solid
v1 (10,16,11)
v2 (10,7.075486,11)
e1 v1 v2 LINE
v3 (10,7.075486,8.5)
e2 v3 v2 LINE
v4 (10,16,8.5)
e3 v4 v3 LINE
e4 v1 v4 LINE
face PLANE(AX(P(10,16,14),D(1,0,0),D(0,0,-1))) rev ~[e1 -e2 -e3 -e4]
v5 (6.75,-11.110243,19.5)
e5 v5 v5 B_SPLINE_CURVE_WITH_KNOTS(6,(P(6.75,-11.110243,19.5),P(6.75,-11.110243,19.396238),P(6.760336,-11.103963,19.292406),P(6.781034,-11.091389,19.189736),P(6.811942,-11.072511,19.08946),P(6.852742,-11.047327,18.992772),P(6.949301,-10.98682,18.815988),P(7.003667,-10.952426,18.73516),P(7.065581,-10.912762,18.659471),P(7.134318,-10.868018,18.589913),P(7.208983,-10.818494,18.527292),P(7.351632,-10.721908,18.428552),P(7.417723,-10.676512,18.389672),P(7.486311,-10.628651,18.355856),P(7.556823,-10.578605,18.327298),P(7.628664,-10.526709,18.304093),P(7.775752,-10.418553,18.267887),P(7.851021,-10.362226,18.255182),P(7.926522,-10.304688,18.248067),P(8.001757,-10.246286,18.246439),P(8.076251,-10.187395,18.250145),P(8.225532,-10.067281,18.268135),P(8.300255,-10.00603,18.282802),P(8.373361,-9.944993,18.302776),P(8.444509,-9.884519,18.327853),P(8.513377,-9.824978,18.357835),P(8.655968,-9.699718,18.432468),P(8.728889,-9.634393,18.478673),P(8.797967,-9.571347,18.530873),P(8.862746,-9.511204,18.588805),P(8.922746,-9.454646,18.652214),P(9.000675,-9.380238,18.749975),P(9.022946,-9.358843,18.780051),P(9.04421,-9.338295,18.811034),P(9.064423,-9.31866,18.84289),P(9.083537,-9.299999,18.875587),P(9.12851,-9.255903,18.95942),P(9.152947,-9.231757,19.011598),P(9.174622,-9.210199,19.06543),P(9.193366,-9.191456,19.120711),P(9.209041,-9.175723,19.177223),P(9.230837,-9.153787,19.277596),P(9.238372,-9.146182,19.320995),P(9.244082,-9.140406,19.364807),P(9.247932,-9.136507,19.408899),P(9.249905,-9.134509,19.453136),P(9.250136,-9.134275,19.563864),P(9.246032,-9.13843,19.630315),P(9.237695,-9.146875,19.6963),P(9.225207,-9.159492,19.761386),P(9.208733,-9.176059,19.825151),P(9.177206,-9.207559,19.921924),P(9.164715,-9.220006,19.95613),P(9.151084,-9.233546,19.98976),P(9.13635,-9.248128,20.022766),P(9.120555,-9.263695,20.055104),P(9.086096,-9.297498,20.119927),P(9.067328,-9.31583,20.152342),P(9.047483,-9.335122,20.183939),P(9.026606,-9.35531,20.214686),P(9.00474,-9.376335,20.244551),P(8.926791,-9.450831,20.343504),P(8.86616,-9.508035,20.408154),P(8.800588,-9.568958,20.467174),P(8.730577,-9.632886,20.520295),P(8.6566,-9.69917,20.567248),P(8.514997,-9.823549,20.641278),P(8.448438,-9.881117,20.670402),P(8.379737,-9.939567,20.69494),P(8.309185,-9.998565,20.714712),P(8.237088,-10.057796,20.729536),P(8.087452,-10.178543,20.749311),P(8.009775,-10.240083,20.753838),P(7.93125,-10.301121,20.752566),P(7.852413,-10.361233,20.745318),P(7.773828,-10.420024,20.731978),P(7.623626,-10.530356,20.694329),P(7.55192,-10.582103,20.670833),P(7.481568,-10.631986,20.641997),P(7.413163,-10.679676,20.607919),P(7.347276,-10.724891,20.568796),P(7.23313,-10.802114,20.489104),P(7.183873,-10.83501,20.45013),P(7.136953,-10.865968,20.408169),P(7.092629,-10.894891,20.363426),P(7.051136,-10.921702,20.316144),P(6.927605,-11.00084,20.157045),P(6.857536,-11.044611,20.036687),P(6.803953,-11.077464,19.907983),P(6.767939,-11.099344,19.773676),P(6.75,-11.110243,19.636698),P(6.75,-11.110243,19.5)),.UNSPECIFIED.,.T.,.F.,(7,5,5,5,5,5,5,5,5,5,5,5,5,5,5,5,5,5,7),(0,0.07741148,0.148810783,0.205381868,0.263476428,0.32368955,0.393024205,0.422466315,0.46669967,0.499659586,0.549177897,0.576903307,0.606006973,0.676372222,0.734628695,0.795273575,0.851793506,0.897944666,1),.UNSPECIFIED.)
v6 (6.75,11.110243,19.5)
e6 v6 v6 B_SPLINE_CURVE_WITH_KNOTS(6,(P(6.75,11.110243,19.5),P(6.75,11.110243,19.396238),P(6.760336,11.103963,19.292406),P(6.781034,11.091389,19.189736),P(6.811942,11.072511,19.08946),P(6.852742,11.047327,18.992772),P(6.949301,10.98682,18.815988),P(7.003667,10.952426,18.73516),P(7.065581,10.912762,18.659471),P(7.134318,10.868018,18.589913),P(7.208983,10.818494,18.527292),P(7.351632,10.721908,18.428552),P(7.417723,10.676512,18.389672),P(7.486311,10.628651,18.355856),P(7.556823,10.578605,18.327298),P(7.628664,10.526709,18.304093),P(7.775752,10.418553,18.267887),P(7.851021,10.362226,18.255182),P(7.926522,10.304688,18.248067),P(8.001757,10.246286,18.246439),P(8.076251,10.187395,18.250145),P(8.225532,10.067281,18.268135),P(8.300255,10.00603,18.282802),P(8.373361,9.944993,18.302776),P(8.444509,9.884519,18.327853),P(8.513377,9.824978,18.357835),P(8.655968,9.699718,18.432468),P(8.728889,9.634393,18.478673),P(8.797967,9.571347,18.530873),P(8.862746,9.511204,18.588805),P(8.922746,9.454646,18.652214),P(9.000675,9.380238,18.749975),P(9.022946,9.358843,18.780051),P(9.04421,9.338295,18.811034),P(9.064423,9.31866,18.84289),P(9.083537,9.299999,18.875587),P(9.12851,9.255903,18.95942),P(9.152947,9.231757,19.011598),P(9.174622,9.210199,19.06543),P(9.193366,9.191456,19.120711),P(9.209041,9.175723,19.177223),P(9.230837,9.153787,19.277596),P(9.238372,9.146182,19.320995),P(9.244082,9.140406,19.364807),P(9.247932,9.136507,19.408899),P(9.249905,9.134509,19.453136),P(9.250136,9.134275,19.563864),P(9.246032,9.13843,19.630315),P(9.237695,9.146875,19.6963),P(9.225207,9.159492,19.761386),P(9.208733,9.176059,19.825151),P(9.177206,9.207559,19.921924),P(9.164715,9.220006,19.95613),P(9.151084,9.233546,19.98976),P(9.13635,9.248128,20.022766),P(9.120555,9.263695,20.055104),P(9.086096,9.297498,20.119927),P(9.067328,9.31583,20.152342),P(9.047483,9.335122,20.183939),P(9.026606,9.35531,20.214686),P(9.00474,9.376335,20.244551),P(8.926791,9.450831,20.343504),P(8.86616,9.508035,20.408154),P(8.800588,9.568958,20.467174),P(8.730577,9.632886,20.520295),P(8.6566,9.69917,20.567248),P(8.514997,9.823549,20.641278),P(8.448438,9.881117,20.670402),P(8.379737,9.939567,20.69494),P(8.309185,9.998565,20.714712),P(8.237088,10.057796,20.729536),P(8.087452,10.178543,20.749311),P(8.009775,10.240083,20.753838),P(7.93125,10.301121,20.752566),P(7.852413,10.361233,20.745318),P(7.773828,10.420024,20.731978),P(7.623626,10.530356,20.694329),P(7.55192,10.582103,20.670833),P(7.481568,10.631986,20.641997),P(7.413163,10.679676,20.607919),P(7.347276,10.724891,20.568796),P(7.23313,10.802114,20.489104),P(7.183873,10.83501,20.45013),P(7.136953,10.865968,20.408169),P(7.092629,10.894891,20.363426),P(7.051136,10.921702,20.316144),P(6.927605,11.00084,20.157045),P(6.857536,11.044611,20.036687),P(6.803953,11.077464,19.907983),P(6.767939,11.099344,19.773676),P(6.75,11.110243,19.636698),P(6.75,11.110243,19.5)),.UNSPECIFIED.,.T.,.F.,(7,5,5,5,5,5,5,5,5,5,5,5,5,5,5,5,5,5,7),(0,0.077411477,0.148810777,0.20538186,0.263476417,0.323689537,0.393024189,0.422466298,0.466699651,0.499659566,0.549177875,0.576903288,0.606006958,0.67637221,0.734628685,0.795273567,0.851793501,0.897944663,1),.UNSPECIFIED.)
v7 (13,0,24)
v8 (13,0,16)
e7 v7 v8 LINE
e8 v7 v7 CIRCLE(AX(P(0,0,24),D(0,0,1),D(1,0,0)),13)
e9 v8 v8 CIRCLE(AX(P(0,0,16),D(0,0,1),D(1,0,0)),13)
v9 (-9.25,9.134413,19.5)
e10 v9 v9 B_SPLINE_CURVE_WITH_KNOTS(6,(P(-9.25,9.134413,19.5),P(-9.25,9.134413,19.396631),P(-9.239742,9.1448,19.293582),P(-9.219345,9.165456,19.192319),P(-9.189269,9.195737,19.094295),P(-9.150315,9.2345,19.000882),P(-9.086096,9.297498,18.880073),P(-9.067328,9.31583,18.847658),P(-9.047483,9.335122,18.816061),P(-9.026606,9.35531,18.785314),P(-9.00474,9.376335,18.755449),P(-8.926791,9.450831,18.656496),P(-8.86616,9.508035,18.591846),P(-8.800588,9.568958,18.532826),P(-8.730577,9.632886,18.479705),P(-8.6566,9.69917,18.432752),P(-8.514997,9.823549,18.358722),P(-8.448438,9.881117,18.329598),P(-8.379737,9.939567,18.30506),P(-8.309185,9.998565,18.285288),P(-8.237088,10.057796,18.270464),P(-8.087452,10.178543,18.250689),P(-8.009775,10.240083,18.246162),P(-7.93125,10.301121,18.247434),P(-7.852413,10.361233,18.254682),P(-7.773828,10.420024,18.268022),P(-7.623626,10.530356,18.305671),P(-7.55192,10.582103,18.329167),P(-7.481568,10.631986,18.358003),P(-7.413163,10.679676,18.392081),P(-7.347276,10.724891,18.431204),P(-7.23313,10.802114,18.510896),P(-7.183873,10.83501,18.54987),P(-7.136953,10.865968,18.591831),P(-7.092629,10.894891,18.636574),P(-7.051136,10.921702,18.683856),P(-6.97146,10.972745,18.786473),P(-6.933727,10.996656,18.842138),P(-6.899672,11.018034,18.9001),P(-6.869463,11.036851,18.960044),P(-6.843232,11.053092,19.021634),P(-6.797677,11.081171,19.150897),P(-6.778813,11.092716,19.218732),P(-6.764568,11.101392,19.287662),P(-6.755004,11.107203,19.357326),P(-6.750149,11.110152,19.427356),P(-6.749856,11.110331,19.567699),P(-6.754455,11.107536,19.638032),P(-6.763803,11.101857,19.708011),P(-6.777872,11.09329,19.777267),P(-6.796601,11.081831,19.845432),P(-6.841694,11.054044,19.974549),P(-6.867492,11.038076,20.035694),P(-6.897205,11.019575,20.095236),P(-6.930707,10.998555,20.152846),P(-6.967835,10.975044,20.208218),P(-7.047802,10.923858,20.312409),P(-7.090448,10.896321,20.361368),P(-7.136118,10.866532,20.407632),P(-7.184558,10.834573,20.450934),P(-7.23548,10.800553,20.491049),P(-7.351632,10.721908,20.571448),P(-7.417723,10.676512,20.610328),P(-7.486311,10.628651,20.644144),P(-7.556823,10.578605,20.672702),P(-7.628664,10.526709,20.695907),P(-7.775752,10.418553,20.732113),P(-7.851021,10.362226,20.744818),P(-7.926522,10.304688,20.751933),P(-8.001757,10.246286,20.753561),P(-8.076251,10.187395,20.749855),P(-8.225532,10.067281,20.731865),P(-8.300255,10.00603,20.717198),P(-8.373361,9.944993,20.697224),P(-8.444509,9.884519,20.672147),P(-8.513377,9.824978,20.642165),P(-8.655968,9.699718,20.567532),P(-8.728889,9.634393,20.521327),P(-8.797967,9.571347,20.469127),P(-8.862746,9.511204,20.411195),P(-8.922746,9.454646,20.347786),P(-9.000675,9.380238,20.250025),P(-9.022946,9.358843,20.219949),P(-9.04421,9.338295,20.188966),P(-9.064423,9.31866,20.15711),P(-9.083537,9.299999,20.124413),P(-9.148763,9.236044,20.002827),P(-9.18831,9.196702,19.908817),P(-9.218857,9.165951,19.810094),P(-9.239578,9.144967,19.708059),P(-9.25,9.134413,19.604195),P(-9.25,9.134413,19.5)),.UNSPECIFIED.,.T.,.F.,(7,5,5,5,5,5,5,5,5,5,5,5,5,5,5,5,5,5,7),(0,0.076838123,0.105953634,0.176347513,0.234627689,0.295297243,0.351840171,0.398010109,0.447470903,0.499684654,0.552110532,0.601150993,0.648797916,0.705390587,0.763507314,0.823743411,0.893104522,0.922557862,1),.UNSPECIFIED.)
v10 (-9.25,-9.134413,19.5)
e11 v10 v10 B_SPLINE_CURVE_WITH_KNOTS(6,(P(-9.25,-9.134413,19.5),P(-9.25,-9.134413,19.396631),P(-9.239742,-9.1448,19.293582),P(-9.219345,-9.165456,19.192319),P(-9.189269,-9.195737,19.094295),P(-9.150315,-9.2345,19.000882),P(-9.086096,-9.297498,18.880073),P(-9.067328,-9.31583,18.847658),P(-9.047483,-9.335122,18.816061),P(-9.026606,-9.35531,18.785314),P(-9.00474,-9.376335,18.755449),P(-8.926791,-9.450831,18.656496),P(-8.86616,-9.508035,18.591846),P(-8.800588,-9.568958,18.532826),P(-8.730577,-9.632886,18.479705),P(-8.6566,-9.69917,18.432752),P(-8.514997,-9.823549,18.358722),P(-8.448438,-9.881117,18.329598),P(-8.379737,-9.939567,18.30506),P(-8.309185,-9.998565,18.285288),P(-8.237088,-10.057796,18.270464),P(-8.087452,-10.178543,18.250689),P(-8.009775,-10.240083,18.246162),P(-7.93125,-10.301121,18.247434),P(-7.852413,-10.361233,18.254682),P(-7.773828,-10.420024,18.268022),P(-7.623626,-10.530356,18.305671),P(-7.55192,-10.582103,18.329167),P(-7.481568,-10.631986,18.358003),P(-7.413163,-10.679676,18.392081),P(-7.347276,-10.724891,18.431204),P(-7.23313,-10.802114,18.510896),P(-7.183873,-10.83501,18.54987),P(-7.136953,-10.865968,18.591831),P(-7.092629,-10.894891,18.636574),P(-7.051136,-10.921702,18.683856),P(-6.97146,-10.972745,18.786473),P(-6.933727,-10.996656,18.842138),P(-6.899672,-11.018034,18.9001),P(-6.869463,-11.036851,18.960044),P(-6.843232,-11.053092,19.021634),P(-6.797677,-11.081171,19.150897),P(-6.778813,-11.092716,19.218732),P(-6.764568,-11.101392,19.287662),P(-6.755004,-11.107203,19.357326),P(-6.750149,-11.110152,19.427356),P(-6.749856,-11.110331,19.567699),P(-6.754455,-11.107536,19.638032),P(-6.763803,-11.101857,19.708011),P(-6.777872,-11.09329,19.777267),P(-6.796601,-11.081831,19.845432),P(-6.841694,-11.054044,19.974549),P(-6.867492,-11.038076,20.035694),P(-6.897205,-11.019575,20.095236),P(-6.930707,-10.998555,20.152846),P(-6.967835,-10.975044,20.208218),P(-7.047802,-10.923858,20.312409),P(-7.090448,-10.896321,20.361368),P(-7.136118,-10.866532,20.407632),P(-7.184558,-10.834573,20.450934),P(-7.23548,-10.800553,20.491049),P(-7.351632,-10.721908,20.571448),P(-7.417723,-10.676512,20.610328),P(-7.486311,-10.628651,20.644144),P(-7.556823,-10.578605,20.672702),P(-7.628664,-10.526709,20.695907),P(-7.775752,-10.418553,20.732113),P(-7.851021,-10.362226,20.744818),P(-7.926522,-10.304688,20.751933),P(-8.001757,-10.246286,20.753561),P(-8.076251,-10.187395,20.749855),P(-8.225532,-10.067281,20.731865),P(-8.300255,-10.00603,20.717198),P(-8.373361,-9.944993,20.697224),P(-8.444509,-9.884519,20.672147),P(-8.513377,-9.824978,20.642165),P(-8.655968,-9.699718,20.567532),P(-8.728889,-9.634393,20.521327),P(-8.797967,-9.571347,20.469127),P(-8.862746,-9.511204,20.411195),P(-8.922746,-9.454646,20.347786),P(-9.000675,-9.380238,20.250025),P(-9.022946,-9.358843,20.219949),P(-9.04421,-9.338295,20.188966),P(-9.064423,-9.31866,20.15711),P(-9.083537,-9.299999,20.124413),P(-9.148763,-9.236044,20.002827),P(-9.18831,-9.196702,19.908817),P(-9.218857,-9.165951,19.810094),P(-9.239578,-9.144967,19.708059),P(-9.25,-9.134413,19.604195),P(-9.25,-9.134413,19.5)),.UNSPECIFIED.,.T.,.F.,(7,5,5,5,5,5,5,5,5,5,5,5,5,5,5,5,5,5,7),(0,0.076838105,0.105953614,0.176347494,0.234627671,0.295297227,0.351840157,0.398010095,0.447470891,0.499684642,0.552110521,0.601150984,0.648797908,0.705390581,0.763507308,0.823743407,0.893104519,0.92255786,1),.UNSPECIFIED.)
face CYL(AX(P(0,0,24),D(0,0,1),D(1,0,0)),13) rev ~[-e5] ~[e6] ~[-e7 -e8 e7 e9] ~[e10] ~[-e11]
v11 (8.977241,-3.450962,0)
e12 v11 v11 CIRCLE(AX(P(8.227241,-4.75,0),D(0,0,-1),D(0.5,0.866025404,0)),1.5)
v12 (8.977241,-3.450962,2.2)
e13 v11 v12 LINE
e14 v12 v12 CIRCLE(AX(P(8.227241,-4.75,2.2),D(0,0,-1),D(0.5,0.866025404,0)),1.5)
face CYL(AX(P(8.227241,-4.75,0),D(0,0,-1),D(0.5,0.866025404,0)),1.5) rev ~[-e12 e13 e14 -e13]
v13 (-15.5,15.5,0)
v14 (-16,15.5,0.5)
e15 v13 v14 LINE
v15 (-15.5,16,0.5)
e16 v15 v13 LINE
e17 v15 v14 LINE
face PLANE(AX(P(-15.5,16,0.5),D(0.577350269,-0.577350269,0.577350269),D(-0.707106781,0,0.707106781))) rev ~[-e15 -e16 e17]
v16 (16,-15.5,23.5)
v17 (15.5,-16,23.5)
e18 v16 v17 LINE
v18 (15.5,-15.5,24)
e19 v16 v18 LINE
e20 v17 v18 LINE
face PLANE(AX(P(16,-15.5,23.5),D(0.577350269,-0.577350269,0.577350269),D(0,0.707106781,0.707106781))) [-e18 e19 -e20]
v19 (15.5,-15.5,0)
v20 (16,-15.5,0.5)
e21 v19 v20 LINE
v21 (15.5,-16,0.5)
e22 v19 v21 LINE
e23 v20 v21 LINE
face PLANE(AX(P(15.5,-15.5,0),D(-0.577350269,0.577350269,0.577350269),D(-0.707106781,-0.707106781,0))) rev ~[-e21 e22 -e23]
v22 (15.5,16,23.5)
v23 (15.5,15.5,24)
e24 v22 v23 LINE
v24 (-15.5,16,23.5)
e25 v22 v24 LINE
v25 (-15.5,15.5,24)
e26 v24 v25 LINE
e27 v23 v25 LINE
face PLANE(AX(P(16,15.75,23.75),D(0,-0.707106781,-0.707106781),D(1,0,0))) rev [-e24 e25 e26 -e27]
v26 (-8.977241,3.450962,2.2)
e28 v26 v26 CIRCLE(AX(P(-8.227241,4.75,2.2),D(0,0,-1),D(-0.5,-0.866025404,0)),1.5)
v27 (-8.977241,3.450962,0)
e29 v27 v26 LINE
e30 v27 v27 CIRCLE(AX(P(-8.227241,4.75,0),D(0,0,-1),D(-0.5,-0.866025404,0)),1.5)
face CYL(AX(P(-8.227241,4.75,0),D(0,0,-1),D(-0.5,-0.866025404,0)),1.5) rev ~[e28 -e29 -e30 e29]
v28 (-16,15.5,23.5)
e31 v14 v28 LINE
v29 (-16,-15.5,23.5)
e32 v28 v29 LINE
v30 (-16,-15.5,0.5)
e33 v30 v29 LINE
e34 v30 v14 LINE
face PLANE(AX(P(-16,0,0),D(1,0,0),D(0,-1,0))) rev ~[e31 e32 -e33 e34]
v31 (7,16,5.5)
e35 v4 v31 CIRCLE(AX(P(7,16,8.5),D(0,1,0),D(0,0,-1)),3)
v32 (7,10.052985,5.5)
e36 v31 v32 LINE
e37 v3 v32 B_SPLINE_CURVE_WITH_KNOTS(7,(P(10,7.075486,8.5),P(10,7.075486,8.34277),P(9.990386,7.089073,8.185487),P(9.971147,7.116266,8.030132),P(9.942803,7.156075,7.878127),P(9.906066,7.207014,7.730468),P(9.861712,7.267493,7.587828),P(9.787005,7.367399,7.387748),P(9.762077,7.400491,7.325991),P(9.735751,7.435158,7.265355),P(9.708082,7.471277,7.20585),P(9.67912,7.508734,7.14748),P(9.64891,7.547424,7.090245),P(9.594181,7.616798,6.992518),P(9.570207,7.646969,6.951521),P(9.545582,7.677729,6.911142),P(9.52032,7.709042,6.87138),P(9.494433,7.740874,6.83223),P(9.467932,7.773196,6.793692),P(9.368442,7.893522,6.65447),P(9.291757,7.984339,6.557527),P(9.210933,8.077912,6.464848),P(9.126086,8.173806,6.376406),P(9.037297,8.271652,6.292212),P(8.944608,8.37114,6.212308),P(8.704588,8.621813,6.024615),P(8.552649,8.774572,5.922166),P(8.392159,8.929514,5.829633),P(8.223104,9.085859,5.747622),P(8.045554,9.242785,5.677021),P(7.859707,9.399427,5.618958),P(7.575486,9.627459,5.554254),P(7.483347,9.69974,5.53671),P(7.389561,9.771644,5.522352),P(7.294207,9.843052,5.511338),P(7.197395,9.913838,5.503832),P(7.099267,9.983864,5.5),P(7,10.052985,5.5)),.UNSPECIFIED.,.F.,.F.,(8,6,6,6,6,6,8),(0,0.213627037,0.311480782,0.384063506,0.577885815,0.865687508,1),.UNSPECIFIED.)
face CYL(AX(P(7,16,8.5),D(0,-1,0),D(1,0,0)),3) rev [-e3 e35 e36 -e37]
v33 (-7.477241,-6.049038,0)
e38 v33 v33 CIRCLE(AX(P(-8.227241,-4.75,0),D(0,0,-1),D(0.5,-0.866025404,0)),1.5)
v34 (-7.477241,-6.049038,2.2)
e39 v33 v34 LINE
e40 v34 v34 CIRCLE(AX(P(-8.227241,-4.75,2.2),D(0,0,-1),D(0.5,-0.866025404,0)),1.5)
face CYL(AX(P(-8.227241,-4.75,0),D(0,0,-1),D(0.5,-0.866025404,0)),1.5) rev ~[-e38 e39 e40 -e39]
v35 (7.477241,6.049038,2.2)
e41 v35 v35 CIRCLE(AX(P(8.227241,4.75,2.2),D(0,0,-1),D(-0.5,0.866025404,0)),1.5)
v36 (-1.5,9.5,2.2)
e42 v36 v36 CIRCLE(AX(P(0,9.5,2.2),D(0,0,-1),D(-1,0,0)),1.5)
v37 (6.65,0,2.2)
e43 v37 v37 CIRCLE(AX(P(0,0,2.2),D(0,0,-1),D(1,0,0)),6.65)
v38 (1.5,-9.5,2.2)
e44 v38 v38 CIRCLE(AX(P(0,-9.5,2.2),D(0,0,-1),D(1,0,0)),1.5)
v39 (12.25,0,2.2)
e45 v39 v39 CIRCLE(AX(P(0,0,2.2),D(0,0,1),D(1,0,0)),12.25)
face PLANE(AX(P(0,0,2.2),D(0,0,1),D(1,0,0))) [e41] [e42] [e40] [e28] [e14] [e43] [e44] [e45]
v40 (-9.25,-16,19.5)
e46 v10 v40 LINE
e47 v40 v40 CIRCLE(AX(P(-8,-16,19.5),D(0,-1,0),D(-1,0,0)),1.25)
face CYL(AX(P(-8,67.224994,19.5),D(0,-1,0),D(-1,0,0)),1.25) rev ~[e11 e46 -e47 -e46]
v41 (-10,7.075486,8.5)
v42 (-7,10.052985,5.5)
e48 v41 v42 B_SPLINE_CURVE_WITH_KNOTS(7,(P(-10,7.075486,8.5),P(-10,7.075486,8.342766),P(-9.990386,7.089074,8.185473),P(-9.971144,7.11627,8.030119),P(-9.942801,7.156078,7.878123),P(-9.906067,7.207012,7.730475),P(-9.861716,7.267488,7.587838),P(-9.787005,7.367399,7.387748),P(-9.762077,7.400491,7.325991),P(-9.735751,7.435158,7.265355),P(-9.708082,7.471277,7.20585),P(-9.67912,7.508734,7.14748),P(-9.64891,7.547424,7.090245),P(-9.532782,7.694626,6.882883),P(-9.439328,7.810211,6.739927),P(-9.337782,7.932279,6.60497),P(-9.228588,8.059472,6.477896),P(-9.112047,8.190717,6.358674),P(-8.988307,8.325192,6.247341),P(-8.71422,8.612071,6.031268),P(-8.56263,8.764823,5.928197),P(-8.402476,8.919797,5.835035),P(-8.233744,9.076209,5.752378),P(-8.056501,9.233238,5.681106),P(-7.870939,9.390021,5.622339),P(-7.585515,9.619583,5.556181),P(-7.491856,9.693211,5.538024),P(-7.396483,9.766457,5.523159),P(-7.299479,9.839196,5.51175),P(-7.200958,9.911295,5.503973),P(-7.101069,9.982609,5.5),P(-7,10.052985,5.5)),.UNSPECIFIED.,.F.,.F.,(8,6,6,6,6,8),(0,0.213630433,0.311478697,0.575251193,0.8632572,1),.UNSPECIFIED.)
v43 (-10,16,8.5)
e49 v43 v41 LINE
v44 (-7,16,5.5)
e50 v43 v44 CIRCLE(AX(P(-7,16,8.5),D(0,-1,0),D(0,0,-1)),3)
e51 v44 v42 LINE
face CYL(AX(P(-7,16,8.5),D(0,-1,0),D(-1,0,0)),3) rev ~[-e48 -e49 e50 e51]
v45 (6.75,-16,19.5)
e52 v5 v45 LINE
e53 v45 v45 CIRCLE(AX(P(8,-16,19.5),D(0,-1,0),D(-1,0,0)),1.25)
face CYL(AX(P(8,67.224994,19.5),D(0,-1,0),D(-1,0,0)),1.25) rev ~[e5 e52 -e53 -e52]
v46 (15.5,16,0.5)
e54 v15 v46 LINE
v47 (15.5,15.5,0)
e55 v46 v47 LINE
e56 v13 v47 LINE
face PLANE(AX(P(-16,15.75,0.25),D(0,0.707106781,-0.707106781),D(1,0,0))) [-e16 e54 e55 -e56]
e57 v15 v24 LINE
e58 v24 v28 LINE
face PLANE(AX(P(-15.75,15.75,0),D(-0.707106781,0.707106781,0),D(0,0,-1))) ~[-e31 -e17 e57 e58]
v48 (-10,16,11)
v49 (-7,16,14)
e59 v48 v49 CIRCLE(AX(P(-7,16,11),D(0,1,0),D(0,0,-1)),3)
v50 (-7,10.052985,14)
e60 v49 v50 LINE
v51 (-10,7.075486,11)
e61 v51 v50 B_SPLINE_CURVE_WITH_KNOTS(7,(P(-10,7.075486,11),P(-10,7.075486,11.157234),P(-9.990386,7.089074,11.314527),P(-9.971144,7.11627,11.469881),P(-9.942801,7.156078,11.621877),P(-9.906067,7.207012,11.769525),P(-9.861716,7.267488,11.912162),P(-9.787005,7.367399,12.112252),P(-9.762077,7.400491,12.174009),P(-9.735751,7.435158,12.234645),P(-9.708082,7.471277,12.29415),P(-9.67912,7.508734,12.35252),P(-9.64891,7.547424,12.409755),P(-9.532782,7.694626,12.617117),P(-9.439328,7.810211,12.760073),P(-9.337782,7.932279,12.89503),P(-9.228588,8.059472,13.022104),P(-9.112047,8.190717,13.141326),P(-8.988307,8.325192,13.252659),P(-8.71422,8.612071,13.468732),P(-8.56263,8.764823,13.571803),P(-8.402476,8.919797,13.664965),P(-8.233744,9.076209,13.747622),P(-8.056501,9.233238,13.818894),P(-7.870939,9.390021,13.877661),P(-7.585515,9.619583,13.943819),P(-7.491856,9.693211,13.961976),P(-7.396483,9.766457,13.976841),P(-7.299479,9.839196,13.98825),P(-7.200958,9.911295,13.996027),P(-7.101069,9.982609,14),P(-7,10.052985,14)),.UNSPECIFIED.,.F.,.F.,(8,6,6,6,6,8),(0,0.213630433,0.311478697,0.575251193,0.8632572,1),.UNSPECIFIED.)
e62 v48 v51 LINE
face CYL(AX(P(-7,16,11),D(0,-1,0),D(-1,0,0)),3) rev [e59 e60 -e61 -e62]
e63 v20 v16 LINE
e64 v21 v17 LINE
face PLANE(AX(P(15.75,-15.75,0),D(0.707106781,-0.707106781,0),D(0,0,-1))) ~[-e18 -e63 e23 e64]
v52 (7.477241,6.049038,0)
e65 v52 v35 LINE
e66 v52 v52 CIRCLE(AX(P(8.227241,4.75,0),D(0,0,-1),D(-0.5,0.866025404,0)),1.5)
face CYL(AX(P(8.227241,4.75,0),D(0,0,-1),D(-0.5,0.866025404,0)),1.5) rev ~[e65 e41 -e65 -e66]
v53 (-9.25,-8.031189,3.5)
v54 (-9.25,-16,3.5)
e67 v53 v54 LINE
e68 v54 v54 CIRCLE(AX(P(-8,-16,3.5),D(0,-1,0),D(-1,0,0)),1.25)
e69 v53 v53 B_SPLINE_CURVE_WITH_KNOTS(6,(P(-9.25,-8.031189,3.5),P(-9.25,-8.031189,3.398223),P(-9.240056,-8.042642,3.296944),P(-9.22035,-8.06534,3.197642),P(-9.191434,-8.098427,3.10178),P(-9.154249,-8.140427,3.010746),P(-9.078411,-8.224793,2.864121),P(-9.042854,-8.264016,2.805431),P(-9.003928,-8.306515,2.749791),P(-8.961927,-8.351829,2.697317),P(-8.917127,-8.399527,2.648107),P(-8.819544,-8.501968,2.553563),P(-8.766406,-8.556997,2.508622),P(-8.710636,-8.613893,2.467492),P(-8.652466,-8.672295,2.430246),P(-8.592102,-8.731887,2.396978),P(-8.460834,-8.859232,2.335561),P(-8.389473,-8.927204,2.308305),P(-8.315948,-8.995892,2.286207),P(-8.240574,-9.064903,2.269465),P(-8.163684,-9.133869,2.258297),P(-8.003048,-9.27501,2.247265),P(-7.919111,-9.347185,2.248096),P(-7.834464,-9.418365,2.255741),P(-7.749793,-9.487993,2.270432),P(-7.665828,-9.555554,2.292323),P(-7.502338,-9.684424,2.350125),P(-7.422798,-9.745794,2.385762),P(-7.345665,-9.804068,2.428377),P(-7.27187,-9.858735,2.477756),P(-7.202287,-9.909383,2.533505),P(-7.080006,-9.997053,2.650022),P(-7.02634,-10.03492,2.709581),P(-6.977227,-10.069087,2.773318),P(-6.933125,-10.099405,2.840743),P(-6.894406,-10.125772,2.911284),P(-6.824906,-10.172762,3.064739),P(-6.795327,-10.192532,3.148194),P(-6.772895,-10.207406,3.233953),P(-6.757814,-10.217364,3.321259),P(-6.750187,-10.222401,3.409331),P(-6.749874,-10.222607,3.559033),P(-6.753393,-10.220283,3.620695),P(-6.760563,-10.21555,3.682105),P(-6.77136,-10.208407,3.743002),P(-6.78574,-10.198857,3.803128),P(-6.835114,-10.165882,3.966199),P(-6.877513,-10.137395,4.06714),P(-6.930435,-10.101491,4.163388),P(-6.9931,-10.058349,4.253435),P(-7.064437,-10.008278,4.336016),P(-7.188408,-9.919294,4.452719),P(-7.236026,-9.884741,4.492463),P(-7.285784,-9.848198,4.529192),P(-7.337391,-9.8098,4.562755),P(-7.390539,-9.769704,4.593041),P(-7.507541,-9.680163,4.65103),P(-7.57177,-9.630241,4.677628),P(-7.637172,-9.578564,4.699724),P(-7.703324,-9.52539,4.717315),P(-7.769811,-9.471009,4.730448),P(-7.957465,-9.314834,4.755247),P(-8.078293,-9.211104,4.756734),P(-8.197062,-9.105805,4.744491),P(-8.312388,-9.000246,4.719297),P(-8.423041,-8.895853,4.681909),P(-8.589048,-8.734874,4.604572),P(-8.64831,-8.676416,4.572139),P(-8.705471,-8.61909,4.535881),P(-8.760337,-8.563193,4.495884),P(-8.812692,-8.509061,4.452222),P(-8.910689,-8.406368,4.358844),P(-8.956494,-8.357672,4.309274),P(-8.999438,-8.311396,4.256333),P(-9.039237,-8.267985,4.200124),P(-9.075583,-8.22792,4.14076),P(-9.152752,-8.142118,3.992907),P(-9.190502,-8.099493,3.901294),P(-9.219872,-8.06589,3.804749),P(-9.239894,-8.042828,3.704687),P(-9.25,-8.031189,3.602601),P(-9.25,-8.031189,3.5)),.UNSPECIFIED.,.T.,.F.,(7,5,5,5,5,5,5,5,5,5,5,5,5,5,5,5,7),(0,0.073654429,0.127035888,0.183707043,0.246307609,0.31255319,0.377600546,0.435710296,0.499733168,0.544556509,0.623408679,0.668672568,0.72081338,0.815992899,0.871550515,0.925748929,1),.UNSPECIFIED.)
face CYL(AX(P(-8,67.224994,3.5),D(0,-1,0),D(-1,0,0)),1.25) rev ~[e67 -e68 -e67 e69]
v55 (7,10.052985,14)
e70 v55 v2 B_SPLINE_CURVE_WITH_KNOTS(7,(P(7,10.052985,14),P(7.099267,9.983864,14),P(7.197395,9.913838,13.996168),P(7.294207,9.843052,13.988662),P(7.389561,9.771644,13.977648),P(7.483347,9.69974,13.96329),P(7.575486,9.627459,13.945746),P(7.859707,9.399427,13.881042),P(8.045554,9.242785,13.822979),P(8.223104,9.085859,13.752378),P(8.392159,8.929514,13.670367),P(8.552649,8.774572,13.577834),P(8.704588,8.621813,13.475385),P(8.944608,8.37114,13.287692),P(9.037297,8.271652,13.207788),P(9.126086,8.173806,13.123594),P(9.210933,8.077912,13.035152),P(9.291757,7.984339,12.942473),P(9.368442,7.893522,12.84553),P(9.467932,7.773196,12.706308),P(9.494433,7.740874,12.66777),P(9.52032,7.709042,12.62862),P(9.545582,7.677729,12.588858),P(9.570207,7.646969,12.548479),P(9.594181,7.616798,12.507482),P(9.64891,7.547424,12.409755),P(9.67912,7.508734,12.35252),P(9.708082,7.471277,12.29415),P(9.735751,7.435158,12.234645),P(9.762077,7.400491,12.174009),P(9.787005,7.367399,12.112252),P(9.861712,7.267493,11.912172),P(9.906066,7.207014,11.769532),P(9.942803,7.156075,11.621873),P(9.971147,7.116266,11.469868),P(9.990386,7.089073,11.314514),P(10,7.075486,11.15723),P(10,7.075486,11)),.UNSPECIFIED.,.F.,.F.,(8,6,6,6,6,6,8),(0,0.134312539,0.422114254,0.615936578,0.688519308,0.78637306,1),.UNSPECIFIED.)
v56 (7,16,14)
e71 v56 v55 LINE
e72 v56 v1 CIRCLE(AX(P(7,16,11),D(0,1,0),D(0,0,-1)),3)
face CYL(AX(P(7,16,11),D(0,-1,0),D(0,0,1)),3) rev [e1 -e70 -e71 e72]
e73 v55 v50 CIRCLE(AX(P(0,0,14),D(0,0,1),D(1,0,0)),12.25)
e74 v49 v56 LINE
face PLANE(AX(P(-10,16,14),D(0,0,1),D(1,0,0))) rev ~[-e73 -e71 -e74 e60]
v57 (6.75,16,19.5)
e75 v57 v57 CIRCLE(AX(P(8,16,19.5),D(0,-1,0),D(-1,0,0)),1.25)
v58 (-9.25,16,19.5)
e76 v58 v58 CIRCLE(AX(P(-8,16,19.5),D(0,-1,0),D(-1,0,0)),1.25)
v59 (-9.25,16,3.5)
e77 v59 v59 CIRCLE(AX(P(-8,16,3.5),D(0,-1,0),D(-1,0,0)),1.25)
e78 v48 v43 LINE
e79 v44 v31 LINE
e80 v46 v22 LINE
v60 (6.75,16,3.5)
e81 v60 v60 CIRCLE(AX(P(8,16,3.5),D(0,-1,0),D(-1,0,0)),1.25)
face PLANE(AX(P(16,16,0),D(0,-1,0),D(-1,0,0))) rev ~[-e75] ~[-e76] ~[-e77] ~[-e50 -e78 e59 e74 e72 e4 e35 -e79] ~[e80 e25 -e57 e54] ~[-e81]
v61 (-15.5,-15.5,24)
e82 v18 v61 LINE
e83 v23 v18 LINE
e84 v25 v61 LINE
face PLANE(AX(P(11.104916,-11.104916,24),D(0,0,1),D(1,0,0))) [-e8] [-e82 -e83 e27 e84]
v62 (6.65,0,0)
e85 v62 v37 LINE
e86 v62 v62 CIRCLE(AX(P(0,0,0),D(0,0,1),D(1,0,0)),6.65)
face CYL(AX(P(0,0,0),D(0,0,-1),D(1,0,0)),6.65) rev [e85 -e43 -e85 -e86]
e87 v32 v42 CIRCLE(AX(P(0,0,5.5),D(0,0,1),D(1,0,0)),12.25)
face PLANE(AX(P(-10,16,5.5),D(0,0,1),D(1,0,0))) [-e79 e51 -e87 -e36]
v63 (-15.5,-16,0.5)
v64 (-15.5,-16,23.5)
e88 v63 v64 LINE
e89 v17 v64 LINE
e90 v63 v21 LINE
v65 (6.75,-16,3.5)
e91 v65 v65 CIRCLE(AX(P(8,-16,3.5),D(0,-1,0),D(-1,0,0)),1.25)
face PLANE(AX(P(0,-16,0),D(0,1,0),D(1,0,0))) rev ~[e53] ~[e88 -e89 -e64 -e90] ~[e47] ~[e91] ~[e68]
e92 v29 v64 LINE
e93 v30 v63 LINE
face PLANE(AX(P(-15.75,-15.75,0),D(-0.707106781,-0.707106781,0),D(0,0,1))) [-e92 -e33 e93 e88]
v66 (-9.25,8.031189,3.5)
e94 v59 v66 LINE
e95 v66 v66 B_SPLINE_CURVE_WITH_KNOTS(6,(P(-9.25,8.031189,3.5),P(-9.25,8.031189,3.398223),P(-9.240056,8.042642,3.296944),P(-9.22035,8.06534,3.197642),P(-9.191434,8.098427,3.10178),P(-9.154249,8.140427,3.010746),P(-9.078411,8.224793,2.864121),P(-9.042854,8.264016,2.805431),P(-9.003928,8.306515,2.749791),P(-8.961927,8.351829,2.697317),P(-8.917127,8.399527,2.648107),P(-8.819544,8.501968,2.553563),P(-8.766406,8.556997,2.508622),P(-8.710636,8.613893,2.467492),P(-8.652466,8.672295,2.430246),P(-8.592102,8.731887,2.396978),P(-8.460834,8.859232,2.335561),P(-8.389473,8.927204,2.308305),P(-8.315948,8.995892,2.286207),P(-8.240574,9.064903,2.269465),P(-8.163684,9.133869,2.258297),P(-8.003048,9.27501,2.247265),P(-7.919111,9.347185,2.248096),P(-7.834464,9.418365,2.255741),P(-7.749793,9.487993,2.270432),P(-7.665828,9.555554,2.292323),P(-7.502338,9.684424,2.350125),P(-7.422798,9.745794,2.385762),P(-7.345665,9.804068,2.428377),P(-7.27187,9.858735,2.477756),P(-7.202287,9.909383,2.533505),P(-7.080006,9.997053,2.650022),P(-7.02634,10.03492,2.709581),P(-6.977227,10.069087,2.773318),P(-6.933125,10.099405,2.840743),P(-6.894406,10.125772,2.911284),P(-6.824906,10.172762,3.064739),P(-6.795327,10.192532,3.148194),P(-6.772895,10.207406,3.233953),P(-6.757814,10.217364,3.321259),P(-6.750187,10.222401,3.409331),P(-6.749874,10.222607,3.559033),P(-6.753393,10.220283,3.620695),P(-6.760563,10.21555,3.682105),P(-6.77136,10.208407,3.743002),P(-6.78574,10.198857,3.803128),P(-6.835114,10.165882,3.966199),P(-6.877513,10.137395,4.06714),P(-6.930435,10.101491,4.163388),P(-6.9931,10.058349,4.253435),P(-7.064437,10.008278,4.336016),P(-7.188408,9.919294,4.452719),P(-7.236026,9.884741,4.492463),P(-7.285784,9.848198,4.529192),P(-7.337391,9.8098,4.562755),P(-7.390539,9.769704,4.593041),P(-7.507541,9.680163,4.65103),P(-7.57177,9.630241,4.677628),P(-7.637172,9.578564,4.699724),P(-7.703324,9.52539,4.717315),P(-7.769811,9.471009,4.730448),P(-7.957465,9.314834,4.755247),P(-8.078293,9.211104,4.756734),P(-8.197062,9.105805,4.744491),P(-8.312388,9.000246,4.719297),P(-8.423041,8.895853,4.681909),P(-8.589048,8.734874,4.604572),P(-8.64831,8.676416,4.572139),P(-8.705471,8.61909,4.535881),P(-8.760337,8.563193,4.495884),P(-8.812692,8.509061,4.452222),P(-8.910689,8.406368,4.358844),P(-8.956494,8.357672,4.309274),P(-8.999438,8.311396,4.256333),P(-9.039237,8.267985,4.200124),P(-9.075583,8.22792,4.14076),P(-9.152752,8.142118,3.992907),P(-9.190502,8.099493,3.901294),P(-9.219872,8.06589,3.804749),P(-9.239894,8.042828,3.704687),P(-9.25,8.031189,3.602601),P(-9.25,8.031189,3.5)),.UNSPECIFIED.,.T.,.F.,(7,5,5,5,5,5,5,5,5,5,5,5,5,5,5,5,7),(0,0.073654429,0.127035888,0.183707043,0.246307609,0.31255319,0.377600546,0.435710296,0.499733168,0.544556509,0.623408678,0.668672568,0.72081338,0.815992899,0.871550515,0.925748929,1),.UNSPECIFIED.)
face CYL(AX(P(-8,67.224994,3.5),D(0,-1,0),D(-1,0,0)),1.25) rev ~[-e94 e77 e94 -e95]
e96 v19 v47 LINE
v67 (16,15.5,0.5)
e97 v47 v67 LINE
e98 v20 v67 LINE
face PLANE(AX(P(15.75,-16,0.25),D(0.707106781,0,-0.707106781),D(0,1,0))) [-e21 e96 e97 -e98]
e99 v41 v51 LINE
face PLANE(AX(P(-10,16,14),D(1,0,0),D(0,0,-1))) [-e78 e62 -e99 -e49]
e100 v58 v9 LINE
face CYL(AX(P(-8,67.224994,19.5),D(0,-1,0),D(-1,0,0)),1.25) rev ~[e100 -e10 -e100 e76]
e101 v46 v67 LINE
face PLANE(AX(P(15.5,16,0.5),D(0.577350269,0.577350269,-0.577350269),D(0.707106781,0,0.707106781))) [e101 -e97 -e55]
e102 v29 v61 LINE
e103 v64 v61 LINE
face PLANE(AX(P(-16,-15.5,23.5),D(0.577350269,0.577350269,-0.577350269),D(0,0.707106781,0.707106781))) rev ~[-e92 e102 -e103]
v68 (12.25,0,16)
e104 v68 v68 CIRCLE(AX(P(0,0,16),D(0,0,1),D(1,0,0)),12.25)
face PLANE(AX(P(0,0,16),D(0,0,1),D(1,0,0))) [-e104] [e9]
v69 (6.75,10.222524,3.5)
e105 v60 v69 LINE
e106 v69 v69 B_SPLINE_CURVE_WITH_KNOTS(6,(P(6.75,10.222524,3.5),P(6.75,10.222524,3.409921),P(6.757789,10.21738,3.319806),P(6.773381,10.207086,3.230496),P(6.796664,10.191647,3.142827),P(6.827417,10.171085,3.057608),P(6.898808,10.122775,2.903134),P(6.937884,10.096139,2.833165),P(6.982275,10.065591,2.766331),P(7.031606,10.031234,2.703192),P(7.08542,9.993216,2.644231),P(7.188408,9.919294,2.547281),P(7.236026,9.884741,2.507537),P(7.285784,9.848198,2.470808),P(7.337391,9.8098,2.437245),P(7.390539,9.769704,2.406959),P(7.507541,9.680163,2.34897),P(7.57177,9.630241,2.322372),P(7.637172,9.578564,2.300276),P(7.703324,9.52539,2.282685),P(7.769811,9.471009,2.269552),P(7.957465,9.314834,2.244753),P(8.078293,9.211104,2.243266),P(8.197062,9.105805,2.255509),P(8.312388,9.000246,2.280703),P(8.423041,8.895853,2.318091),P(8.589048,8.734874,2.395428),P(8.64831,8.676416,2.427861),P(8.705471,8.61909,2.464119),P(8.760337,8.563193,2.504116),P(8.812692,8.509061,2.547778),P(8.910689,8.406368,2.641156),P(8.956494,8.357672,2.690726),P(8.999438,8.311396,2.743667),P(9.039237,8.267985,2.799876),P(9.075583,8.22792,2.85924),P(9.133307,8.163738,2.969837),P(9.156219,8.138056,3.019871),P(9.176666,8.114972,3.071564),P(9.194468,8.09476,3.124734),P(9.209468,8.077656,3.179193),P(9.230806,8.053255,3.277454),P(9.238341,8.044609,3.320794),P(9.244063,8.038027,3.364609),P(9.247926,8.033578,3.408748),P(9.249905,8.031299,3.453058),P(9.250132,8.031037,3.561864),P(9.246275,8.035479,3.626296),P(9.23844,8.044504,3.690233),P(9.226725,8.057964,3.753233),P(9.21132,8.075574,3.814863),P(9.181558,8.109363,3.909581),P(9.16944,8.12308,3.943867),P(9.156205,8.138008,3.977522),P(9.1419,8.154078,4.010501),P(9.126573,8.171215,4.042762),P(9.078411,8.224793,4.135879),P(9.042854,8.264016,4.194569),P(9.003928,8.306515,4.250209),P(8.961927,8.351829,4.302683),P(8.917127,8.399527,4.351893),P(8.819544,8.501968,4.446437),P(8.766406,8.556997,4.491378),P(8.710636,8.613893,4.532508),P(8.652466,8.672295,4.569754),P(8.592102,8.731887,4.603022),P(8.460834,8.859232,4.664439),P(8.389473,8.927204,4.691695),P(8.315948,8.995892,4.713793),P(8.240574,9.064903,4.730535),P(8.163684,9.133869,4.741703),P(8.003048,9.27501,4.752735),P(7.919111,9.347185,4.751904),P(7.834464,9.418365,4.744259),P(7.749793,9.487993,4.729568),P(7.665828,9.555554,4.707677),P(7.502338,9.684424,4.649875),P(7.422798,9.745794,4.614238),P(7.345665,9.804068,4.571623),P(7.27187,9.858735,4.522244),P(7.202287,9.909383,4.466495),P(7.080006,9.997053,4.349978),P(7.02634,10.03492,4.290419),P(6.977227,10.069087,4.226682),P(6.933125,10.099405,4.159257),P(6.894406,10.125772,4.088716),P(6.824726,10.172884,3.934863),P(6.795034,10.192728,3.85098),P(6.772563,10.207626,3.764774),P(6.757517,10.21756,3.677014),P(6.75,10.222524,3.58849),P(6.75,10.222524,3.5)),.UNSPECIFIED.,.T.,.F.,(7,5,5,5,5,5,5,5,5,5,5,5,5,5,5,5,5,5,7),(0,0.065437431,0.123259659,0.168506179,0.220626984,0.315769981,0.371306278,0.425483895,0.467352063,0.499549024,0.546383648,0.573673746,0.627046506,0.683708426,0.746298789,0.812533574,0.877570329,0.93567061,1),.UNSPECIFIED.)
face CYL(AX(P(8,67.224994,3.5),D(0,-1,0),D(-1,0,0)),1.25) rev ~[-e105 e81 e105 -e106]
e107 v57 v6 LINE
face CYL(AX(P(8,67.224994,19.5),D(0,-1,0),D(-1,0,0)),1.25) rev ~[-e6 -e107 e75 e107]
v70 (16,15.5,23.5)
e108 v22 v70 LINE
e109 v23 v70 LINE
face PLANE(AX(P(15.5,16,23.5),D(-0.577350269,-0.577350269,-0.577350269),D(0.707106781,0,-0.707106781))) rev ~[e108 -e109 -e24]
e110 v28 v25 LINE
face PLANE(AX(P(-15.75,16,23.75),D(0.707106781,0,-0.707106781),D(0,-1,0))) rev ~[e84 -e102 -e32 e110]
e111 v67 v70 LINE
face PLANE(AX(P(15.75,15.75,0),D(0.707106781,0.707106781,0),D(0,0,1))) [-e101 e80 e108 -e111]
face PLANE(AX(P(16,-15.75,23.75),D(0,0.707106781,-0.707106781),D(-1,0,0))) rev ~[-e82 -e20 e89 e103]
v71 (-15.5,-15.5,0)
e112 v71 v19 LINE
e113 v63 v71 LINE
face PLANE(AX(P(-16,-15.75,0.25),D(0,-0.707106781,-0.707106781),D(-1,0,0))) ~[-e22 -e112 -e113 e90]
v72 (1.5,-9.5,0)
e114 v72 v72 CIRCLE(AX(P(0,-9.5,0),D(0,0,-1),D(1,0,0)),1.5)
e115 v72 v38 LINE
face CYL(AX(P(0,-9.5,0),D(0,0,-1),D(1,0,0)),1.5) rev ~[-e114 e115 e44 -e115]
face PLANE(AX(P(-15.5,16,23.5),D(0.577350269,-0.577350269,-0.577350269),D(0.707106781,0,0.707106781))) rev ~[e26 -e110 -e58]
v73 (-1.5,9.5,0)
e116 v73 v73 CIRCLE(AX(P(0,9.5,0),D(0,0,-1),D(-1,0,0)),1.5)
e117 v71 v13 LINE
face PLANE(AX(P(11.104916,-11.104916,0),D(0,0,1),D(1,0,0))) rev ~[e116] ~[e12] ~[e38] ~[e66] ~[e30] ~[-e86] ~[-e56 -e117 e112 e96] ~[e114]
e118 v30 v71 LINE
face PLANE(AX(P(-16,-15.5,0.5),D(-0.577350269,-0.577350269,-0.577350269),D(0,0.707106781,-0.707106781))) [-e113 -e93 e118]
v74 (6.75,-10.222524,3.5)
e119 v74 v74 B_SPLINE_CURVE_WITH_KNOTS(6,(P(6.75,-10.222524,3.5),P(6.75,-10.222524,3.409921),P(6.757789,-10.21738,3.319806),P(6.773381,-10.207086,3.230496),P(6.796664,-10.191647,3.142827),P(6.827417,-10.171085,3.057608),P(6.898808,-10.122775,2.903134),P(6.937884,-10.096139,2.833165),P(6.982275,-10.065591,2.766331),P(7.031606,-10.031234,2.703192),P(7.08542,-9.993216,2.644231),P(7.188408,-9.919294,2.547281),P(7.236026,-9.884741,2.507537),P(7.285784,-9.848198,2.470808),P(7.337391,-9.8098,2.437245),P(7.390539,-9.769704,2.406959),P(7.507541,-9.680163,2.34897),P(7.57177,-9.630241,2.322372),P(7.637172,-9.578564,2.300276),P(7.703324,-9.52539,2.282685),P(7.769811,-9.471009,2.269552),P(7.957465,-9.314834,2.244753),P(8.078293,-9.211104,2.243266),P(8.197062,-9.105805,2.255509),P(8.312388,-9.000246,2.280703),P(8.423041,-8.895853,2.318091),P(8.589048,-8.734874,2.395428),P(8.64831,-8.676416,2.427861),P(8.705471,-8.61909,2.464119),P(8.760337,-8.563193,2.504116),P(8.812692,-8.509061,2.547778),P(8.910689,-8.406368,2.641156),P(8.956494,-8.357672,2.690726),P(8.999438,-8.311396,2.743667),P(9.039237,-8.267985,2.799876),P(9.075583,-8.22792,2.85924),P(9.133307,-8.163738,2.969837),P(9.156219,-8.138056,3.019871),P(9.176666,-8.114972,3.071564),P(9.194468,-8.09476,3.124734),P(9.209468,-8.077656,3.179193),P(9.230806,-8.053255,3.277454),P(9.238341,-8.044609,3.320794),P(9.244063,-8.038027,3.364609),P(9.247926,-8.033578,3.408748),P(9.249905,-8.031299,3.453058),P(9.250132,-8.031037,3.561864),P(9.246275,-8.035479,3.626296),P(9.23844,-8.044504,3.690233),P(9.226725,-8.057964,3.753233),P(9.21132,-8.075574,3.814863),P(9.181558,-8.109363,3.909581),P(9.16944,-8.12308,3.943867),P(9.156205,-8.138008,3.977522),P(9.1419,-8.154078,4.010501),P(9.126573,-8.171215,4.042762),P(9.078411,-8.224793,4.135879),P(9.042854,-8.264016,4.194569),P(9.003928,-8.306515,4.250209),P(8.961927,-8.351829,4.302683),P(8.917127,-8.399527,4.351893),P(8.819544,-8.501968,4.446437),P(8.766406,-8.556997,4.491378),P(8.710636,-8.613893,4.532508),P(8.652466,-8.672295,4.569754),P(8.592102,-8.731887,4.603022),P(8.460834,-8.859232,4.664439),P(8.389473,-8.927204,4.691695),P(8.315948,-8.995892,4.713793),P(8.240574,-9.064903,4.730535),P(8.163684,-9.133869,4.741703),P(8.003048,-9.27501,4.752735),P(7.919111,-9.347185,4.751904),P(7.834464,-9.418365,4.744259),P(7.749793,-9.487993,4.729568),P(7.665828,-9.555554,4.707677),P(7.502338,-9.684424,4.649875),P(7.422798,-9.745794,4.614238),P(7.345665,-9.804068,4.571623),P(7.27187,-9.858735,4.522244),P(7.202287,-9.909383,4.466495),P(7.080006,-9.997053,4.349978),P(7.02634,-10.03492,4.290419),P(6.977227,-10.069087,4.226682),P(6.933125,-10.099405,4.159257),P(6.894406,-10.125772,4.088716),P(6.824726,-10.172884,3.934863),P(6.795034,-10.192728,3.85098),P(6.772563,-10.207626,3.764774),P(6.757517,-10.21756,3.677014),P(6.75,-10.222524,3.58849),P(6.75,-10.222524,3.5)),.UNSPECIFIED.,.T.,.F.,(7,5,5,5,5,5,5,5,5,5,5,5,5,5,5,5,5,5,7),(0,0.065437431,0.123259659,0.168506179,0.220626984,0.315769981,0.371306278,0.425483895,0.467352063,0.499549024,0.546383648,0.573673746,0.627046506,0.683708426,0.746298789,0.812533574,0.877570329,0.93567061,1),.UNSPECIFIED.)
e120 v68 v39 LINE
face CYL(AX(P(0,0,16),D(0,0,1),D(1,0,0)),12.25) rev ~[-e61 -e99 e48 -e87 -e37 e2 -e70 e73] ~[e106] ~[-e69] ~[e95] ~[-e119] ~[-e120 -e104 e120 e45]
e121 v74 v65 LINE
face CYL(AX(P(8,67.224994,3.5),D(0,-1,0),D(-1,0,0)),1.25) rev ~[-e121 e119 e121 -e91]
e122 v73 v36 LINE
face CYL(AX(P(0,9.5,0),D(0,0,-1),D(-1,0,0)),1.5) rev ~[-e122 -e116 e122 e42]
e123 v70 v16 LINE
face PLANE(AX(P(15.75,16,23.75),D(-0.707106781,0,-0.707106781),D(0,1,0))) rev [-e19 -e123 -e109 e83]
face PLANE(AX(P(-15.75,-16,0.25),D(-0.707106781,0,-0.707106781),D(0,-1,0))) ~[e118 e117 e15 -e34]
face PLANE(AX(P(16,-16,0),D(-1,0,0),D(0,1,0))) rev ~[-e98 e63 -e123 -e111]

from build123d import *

# Parameters (mm, degrees)
SKETCH_1_R               = 16
SKETCH_1_R_2             = 6.65
EXTRUDE_1_DEPTH          = 24
SKETCH_3_R               = 1.5
CUT_EXTRUDE_2_DEPTH      = 33.984845005
PATTERN_CIRCULAR_1_COUNT = 6
EXTRUDE_START            = -24
EXTRUDE_2_DEPTH          = 24
SKETCH_7_R               = 13
CUT_EXTRUDE_3_DEPTH      = 21.8
EXTRUDE_START_2          = 13.8
SKETCH_15_R              = 13
SKETCH_15_R_2            = 12.25
EXTRUDE_4_DEPTH          = 13.8
SKETCH_11_W              = 20
SKETCH_11_H              = 8.5
CUT_EXTRUDE_4_DEPTH      = 10
FILLET_1_R               = 3
SKETCH_12_R              = 1
CUT_EXTRUDE_5_DEPTH      = 44.081318457
HOLE_WIZARD_M3_1_D       = 2.5
CHAMFER_1_SIZE           = 0.5


with BuildPart() as part:
    # 草图1 → 凸台-拉伸1 (new body)
    with BuildSketch(Plane.XY):
        Circle(SKETCH_1_R)
        Circle(SKETCH_1_R_2, mode=Mode.SUBTRACT)
    extrude(amount=EXTRUDE_1_DEPTH)

    # 草图3 → 切除-拉伸2 (cut, through all)
    with BuildSketch(Plane(origin=(0, 0, 0), x_dir=(-1, 0, 0), z_dir=(0, 0, -1))):
        with Locations((0, 9.5)):
            Circle(SKETCH_3_R)
    cut_extrude_2 = extrude(amount=-CUT_EXTRUDE_2_DEPTH, mode=Mode.SUBTRACT)

    # 阵列(圆周)1: 切除-拉伸2 ×6 about axis
    pattern_circular_1_axis = Axis((0, 0, 0), (0, 0, 1))
    for i in range(1, PATTERN_CIRCULAR_1_COUNT):
        add(cut_extrude_2.rotate(pattern_circular_1_axis, i * 360 / PATTERN_CIRCULAR_1_COUNT), mode=Mode.SUBTRACT)

    # 草图4 → 凸台-拉伸2 (add)
    with BuildSketch(Plane.XY.offset(24).offset(EXTRUDE_START)):
        with BuildLine():
            ThreePointArc((16, 0), (11.313708518, -11.31370848), (5.5e-08, -16))
            Line((5.5e-08, -16), (16, -16))
            Line((16, -16), (16, 0))
        make_face()
        with BuildLine():
            ThreePointArc((5.5e-08, -16), (-11.31370848, -11.313708518), (-16, 0))
            Line((-16, 0), (-16, -16))
            Line((-16, -16), (5.5e-08, -16))
        make_face()
        with BuildLine():
            Line((-16, 16), (-16, 0))
            ThreePointArc((-16, 0), (-11.313708518, 11.31370848), (-5.5e-08, 16))
            Line((-5.5e-08, 16), (-16, 16))
        make_face()
        with BuildLine():
            Line((16, 16), (-5.5e-08, 16))
            ThreePointArc((-5.5e-08, 16), (11.31370848, 11.313708518), (16, 0))
            Line((16, 0), (16, 16))
        make_face()
    extrude(amount=EXTRUDE_2_DEPTH)

    # 草图7 → 切除-拉伸3 (cut)
    with BuildSketch(Plane.XY.offset(24)):
        Circle(SKETCH_7_R)
    extrude(amount=-CUT_EXTRUDE_3_DEPTH, mode=Mode.SUBTRACT)

    # 草图15 → 凸台-拉伸4 (add)
    with BuildSketch(Plane.XY.offset(2.2).offset(EXTRUDE_START_2)):
        Circle(SKETCH_15_R)
        Circle(SKETCH_15_R_2, mode=Mode.SUBTRACT)
    extrude(amount=-EXTRUDE_4_DEPTH)

    # 草图11 → 切除-拉伸4 (cut)
    with BuildSketch(Plane(origin=(0, 16, 0), x_dir=(1, 0, 0), z_dir=(0, 1, 0))):
        with Locations((0, -9.75)):
            Rectangle(SKETCH_11_W, SKETCH_11_H)
    extrude(amount=-CUT_EXTRUDE_4_DEPTH, mode=Mode.SUBTRACT)

    # 圆角1
    fillet_1_edges = [part.edges().sort_by_distance(p)[0] for p in [
        (10, 11.537742925, 5.5),
        (10, 11.537742925, 14),
        (-10, 11.537742925, 14),
        (-10, 11.537742925, 5.5),
    ]]
    fillet(fillet_1_edges, radius=FILLET_1_R)

    # 草图12 → 切除-拉伸5 (cut, through all)
    with BuildSketch(Plane(origin=(0, 16, 0), x_dir=(1, 0, 0), z_dir=(0, 1, 0))):
        with Locations(Location((8, -3.5, 0), (0, 0, 180))):
            Circle(SKETCH_12_R)
        with Locations(Location((8, -19.5, 0), (0, 0, 180))):
            Circle(SKETCH_12_R)
        with Locations(Location((-8, -3.5, 0), (0, 0, 180))):
            Circle(SKETCH_12_R)
        with Locations(Location((-8, -19.5, 0), (0, 0, 180))):
            Circle(SKETCH_12_R)
    extrude(amount=-CUT_EXTRUDE_5_DEPTH, mode=Mode.SUBTRACT)

    # M3 螺纹孔1 (through all)
    with Locations(Plane(origin=(0, 16, 0), x_dir=(1, 0, 0), z_dir=(0, 1, 0))):
        with Locations((8, -3.5), (-8, -3.5), (-8, -19.5), (8, -19.5)):
            Hole(HOLE_WIZARD_M3_1_D / 2)

    # 倒角1
    chamfer_1_edges = [part.edges().sort_by_distance(p)[0] for p in [
        (0, -16, 24),
        (16, -16, 12),
        (16, 0, 0),
        (16, 0, 24),
        (0, -16, 0),
        (-16, -16, 12),
        (-16, 0, 24),
        (-16, 0, 0),
        (0, 16, 0),
        (-16, 16, 12),
        (0, 16, 24),
        (16, 16, 12),
    ]]
    chamfer(chamfer_1_edges, length=CHAMFER_1_SIZE)


solid = part.part
